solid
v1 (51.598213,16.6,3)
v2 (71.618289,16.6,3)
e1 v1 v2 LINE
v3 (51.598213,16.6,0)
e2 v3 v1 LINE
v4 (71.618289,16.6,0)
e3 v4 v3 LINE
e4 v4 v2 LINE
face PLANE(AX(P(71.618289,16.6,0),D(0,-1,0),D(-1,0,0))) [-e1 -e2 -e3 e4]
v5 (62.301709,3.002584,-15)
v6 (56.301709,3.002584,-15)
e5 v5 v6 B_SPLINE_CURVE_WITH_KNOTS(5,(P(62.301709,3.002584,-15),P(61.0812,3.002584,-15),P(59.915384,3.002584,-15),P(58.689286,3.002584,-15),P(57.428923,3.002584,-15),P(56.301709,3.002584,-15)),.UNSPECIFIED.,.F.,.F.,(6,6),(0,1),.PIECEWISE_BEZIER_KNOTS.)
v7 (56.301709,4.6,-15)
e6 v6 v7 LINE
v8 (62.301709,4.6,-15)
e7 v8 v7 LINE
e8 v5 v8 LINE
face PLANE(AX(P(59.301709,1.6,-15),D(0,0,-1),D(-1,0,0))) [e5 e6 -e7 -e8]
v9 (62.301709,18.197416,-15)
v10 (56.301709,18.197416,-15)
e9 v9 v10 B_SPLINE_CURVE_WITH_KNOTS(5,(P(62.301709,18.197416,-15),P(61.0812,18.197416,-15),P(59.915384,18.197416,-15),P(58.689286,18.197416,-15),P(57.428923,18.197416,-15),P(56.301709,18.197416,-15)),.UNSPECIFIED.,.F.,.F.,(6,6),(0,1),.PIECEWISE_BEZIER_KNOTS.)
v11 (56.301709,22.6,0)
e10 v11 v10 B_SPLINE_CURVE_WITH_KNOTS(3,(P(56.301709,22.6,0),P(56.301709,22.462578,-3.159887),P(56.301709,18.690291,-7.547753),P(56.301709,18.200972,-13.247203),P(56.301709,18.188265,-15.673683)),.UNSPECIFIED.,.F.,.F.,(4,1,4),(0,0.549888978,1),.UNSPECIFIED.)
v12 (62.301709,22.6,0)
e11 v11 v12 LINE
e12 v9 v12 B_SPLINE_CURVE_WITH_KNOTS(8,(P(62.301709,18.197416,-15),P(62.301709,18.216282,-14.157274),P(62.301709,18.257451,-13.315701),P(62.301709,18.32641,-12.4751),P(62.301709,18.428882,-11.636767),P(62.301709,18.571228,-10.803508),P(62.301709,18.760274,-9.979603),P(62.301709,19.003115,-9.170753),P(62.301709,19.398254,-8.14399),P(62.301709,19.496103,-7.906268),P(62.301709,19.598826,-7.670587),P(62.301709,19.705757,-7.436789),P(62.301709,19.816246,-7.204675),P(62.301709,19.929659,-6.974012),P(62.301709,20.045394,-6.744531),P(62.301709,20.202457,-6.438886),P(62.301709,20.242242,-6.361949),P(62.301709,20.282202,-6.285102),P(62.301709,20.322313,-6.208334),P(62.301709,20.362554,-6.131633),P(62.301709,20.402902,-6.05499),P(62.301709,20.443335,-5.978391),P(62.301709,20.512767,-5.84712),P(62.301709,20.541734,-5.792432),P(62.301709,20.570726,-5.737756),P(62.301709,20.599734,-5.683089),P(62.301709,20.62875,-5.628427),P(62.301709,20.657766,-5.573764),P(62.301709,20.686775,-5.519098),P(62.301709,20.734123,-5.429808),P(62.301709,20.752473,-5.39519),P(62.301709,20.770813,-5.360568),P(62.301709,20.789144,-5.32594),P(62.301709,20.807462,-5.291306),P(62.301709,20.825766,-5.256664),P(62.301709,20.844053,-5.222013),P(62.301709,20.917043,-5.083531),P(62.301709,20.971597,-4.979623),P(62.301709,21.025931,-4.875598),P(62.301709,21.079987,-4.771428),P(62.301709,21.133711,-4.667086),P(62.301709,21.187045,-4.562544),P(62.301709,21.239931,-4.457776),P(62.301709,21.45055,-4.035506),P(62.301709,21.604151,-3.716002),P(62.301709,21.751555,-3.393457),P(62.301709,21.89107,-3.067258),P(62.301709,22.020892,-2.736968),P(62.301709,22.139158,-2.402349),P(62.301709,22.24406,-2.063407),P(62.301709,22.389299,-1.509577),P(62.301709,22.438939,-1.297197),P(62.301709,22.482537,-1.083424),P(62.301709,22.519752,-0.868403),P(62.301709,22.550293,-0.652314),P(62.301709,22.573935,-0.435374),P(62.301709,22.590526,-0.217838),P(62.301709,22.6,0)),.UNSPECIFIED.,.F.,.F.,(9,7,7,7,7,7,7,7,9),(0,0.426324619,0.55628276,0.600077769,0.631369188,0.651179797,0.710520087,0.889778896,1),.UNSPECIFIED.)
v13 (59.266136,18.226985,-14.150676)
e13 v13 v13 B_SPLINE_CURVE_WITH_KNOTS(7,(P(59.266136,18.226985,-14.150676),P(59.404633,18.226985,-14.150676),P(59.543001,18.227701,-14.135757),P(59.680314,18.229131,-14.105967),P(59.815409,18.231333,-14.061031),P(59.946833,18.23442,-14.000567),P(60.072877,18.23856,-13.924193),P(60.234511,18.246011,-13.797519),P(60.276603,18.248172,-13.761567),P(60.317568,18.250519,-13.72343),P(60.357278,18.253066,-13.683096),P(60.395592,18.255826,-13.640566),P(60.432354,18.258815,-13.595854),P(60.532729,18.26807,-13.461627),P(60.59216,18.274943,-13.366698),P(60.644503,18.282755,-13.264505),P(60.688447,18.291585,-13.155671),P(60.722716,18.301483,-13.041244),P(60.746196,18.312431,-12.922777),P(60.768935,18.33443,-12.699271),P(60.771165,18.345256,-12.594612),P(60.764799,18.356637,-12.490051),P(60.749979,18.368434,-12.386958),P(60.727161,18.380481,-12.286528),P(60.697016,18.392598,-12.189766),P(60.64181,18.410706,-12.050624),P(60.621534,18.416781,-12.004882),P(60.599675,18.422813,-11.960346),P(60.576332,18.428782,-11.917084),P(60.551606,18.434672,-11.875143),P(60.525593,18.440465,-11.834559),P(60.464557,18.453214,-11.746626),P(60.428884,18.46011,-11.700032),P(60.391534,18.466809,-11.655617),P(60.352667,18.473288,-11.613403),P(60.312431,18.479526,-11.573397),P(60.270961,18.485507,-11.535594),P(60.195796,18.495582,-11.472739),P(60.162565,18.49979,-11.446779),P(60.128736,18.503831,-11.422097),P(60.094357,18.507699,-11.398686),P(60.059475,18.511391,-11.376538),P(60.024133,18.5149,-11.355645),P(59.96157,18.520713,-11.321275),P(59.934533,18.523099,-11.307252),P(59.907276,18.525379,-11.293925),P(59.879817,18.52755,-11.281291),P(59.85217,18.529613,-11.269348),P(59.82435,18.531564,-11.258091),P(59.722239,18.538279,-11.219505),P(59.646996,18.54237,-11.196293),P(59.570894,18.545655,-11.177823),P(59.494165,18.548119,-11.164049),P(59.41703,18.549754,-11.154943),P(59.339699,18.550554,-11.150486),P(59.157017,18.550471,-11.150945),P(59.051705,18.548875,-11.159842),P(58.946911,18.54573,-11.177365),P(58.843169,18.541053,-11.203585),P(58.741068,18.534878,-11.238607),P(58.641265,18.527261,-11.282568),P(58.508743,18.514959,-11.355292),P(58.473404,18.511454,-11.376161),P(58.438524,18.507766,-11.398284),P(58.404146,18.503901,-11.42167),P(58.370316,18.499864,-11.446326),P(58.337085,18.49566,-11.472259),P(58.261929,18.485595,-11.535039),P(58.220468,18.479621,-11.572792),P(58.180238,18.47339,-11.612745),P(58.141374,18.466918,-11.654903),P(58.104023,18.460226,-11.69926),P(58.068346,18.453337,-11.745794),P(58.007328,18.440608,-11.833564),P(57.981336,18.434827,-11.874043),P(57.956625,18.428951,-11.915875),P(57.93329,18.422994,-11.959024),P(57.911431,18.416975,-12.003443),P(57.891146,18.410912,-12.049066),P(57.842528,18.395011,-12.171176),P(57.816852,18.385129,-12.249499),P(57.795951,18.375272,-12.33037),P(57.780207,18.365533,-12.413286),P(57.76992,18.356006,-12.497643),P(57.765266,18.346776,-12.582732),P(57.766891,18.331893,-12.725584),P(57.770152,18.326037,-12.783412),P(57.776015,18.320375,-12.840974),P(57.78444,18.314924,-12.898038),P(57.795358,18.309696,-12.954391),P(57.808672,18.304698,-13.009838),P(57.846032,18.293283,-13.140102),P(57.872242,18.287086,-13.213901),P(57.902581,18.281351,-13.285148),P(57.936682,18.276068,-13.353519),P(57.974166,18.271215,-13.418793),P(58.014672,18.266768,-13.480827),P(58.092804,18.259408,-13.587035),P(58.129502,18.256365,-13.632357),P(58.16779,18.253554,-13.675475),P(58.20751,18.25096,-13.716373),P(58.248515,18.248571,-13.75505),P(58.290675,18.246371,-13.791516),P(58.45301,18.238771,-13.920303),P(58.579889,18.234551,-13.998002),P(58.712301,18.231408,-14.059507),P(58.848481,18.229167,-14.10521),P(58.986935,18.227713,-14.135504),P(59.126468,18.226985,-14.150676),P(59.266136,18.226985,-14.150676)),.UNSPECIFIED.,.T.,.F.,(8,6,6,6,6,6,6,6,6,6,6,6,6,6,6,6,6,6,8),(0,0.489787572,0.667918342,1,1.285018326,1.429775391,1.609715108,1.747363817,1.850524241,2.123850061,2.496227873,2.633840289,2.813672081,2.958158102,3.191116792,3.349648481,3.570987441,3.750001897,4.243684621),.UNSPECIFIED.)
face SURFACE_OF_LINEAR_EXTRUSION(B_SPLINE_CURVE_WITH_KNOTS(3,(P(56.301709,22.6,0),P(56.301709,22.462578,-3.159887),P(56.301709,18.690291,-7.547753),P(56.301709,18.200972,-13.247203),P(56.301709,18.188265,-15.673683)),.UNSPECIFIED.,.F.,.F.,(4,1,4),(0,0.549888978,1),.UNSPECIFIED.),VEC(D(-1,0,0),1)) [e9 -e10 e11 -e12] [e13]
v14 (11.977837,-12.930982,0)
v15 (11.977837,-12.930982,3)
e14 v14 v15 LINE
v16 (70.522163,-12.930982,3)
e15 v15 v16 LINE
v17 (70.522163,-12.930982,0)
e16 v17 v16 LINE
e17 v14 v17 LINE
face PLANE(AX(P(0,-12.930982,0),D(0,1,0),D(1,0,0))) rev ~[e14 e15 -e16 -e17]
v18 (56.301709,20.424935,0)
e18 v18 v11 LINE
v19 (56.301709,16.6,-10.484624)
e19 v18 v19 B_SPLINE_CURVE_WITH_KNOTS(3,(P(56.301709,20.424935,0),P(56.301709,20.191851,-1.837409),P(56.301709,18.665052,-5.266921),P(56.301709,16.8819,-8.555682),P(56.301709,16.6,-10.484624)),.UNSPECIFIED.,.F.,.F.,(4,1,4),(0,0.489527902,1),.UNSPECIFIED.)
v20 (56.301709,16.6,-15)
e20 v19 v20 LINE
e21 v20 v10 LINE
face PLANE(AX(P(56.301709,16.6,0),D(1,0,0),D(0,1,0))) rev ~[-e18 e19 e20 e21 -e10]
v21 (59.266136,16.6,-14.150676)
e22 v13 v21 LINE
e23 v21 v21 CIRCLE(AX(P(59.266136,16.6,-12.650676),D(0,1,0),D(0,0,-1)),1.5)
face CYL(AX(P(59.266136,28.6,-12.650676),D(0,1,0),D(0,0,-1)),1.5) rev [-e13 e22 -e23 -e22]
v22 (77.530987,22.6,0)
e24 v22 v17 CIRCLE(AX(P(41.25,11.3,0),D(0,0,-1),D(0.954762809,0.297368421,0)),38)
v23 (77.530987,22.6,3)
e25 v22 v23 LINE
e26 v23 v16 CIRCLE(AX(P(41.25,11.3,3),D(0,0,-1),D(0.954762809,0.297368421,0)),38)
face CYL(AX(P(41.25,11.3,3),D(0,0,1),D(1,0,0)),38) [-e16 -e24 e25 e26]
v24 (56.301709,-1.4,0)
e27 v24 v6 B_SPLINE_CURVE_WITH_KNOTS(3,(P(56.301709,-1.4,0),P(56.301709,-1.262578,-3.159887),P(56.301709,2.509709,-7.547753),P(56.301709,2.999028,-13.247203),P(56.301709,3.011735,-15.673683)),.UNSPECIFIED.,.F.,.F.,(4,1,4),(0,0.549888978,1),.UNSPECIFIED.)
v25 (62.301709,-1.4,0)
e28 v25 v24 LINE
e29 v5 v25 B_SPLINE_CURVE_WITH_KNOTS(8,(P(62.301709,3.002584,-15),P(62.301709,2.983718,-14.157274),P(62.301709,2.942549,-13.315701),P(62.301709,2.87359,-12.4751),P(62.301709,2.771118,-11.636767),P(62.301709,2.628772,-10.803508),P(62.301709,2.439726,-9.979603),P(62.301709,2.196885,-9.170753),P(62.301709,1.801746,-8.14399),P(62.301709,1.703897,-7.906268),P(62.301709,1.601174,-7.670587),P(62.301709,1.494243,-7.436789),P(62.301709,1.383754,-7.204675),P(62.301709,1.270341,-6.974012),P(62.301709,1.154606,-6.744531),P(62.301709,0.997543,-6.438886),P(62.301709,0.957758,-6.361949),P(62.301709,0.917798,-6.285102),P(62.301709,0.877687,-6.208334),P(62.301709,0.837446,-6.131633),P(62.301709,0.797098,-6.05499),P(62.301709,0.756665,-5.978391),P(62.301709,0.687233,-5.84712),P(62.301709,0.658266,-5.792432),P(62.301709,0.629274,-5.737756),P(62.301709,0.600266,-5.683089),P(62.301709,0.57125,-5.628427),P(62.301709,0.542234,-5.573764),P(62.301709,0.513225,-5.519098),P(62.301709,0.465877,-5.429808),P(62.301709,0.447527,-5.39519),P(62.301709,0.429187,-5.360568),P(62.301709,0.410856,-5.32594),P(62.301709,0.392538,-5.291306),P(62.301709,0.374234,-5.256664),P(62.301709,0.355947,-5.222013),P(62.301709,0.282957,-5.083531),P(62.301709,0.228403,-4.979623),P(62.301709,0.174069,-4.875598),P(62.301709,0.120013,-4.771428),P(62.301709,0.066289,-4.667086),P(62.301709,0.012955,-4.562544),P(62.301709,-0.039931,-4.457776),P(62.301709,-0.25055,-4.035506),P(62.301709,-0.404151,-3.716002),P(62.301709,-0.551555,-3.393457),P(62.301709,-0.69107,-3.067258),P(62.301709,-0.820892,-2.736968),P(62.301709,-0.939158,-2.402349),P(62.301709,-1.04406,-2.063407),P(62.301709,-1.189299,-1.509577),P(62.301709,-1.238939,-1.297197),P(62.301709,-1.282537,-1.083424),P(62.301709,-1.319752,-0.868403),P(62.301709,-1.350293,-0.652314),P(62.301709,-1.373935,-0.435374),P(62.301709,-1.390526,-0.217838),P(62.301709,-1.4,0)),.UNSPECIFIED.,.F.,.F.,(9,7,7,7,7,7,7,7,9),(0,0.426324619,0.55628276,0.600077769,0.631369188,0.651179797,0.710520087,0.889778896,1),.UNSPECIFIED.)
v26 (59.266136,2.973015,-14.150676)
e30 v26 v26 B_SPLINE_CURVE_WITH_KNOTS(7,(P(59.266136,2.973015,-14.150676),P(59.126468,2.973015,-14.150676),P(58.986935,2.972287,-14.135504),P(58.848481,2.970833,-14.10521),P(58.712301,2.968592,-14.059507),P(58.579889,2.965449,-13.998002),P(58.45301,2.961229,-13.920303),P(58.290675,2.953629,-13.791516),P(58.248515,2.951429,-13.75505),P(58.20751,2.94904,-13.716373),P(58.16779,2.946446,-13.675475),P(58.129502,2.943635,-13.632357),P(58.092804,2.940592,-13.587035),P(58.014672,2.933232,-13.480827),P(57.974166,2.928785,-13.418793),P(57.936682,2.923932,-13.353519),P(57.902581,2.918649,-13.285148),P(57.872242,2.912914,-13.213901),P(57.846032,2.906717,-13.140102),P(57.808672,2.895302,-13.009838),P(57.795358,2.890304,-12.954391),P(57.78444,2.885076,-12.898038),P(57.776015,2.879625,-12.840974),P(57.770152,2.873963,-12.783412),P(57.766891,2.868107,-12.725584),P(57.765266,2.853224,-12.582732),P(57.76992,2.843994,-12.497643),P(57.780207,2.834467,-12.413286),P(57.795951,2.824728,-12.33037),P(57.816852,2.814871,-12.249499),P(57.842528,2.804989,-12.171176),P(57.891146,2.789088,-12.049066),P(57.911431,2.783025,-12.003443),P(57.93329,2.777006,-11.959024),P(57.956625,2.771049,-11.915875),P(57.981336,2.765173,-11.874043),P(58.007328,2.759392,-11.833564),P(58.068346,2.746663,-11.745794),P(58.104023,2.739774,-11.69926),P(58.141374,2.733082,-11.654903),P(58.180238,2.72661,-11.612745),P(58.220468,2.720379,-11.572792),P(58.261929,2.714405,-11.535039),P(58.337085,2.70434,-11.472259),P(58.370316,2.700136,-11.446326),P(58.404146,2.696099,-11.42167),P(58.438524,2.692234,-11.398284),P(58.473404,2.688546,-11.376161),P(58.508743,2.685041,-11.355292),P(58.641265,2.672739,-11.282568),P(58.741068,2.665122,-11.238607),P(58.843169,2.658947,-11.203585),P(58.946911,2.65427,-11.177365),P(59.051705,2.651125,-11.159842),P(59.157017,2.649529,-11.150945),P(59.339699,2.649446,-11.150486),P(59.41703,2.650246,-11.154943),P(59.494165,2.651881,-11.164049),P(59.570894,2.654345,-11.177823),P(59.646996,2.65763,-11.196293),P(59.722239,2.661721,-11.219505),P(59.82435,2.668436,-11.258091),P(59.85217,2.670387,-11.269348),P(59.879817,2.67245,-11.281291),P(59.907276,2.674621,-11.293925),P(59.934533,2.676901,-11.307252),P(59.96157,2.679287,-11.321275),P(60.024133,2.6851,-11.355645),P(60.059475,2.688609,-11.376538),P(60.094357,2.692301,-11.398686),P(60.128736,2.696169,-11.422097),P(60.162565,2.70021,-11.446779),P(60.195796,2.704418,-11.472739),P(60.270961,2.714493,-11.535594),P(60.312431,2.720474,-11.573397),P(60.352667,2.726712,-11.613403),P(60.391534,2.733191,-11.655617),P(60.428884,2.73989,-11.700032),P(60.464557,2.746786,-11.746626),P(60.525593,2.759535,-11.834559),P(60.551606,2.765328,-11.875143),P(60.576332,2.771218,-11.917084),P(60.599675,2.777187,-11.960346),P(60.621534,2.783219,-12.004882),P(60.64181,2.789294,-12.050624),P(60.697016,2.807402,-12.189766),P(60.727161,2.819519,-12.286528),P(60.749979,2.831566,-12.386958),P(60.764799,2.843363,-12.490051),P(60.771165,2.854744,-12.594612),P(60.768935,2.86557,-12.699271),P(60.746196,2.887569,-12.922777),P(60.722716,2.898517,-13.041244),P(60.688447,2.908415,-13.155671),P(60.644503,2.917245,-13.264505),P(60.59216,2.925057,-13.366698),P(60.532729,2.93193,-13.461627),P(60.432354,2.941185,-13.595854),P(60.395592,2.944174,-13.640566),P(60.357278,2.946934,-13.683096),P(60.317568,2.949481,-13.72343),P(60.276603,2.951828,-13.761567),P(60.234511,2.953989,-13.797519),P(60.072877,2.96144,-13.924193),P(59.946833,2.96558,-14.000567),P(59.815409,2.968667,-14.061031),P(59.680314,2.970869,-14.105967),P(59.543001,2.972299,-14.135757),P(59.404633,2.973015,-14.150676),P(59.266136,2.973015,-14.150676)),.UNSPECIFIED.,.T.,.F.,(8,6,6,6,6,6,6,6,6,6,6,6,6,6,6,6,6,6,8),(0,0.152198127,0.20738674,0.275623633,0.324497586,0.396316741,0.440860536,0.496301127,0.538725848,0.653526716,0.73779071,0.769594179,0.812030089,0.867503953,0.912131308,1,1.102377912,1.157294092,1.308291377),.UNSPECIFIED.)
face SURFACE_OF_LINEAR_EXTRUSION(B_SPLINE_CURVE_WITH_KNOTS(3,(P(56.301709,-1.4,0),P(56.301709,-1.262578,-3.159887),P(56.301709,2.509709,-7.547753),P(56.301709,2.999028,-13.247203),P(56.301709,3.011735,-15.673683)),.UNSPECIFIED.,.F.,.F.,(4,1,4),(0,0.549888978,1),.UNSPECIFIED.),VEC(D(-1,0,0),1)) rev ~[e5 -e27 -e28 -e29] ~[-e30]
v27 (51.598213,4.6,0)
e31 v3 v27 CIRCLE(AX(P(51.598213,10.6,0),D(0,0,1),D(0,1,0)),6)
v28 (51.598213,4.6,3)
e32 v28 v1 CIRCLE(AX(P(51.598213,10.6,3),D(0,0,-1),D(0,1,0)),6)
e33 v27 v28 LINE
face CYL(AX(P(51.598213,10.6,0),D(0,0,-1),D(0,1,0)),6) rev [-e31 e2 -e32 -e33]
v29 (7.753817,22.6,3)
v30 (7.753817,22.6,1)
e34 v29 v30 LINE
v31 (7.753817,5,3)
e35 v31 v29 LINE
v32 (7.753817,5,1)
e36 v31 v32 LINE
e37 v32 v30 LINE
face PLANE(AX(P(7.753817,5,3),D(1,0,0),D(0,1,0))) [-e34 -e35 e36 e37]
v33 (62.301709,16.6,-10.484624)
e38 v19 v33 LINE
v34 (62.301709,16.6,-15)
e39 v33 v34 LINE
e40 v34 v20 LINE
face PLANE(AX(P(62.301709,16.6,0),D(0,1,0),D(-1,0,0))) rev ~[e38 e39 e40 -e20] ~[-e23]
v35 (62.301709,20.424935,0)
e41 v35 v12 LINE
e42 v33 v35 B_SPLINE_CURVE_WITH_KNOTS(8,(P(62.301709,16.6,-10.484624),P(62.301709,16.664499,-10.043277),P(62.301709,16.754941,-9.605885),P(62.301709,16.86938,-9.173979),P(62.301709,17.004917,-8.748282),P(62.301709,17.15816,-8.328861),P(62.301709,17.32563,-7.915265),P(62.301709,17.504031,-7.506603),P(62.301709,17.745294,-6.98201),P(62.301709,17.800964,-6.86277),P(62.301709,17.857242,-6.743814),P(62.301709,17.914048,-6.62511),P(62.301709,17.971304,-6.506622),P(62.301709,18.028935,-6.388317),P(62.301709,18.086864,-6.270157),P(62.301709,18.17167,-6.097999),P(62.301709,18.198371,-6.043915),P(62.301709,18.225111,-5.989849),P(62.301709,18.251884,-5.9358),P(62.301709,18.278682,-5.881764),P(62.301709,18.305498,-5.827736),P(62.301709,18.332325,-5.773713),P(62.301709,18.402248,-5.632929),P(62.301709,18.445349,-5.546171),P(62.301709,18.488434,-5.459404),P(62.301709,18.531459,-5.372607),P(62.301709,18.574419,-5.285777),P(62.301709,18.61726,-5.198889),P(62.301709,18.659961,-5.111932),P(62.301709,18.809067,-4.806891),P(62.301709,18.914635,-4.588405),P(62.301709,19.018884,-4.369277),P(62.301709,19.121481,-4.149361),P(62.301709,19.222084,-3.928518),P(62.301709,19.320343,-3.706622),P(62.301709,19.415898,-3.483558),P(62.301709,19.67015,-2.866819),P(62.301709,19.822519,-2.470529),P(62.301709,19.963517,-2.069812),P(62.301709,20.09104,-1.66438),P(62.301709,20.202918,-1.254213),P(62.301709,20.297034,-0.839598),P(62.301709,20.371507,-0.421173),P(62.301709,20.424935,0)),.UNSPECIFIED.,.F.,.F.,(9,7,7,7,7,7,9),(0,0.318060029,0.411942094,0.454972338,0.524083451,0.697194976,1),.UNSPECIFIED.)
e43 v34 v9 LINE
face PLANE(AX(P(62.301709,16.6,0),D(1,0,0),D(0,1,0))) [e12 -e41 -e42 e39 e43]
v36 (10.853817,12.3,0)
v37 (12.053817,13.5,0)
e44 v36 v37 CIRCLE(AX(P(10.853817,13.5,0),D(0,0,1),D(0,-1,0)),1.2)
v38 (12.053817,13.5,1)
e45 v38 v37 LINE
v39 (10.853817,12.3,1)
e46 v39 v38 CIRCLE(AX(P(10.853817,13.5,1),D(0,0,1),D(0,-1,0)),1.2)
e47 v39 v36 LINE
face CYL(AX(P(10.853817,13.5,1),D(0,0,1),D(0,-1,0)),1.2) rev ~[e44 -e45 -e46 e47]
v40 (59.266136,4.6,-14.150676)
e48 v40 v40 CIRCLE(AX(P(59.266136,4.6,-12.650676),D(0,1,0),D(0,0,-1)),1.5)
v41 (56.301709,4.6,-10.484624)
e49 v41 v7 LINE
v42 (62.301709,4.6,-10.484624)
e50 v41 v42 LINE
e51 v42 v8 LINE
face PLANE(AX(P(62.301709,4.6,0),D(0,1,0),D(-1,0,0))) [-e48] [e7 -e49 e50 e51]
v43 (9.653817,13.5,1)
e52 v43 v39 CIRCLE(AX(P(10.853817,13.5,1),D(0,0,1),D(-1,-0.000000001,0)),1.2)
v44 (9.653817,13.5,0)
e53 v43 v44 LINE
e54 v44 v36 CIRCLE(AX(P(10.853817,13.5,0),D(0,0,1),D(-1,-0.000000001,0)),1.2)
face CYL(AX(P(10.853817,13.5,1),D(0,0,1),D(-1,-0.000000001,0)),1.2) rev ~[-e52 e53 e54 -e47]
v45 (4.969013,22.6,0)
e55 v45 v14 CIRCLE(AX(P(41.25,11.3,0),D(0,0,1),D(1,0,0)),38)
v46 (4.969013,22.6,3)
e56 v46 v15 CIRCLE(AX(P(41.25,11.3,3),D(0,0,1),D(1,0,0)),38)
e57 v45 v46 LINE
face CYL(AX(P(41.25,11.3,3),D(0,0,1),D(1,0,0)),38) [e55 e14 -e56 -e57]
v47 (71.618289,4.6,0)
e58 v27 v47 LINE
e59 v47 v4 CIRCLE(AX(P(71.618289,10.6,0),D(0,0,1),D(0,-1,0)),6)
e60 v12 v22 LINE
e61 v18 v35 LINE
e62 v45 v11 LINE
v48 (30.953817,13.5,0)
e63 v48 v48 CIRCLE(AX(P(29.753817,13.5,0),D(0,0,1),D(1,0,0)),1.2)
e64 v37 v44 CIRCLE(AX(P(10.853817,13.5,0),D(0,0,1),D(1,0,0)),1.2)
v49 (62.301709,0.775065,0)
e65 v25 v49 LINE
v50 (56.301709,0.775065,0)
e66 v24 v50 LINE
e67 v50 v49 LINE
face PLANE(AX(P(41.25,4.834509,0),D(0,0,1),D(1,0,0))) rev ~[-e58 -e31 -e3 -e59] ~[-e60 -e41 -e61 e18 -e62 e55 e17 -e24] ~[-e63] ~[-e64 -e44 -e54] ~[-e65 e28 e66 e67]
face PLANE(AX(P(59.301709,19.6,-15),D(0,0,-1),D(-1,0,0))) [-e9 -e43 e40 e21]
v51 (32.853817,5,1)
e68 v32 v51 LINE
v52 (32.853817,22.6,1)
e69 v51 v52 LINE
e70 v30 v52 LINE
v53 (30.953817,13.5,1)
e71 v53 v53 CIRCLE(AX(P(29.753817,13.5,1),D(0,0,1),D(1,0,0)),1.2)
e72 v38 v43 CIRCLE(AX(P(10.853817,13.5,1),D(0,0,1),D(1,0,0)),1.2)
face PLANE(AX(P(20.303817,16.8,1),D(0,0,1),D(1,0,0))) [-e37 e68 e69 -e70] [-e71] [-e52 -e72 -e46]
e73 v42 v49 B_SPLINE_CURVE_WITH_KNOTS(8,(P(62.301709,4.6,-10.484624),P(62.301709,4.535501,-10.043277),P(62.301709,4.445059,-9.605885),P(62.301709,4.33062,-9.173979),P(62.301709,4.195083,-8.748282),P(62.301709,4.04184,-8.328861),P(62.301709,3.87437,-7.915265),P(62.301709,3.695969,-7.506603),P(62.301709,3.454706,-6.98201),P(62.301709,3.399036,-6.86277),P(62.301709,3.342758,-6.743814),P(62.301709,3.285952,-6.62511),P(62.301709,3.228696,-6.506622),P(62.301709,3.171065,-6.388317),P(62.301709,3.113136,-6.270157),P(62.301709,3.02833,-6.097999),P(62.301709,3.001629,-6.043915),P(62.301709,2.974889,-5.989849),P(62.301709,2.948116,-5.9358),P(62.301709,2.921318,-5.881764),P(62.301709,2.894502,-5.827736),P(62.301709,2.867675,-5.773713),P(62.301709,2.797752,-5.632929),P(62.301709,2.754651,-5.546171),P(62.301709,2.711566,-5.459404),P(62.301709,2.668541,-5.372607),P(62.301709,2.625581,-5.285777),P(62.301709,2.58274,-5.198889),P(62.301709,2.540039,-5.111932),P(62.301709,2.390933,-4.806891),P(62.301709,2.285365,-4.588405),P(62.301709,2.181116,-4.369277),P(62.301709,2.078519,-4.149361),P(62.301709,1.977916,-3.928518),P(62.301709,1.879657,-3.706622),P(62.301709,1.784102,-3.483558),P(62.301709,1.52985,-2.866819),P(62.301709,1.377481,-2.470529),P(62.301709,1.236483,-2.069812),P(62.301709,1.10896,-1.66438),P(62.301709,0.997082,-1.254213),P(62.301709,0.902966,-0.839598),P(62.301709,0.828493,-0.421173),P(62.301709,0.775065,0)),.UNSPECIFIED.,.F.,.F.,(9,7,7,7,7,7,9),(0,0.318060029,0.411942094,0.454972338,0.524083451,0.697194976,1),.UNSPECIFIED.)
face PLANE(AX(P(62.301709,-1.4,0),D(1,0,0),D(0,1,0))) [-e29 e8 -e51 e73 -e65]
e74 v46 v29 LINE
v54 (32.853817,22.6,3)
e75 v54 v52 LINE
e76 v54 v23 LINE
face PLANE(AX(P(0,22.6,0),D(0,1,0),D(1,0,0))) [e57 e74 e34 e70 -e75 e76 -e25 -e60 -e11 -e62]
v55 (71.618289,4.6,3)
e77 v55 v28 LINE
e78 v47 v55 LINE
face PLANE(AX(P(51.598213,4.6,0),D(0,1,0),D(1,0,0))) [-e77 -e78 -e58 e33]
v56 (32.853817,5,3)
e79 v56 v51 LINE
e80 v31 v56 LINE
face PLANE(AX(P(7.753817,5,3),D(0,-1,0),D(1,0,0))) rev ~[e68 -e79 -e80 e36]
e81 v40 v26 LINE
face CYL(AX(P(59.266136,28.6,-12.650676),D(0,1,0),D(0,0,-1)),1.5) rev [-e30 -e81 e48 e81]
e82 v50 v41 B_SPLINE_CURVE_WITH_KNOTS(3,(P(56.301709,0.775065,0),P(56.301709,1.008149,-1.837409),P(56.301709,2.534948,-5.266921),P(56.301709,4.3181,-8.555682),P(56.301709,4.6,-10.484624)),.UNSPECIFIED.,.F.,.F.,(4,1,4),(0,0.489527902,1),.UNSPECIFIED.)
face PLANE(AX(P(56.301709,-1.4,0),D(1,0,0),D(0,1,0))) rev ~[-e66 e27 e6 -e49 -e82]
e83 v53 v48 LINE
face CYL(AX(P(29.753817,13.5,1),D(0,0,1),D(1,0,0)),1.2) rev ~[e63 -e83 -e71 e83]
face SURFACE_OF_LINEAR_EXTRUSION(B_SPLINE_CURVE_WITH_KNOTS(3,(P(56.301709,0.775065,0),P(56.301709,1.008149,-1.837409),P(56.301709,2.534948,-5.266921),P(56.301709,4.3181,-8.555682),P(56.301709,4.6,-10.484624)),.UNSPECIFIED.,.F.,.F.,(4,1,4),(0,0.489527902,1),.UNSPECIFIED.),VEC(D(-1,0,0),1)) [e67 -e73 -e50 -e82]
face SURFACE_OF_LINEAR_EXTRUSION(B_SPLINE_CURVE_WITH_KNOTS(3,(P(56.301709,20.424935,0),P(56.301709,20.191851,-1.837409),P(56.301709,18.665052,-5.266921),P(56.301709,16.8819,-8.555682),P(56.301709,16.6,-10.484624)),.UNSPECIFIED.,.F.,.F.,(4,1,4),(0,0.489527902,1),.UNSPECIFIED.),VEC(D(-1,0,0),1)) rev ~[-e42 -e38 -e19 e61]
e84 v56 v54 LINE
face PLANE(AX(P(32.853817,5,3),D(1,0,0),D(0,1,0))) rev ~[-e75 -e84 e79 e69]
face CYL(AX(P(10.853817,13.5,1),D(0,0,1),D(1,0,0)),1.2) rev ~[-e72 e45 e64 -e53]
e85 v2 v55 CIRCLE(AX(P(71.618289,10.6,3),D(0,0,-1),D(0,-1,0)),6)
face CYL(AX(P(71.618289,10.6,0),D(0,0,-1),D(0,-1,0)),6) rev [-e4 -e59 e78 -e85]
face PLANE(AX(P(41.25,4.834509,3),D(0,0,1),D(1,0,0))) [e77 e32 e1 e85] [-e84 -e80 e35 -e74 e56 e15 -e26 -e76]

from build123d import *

# Parameters (mm, degrees)
SKETCH5_W               = 82.5
SKETCH5_H               = 35.530981805
BOSS_EXTRUDE1_DEPTH     = 3
SKETCH8_R               = 53.75957742
SKETCH8_R_2             = 38
CUT_EXTRUDE1_DEPTH      = 13
SKETCH7_W               = 25.1
SKETCH7_H               = 23.6
CUT_EXTRUDE2_DEPTH      = 2
SKETCH10_W              = 6
SKETCH10_H              = 6
BOSS_EXTRUDE2_DEPTH     = 15
CUT_EXTRUDE3_DEPTH      = 12
CUT_EXTRUDE4_DEPTH      = 12
CUT_EXTRUDE5_DEPTH      = 17
CUT_EXTRUDE5_DEPTH_BACK = 12
SKETCH15_R              = 1.5
SKETCH16_R              = 1.2
CUT_EXTRUDE6_DEPTH      = 10


with BuildPart() as part:
    # Sketch5 → Boss-Extrude1 (new body)
    with BuildSketch(Plane.XY):
        with Locations((41.25, 4.834509098)):
            Rectangle(SKETCH5_W, SKETCH5_H)
    extrude(amount=BOSS_EXTRUDE1_DEPTH)

    # Sketch8 → Cut-Extrude1 (cut)
    with BuildSketch(Plane.XY.offset(3)):
        with Locations((41.25, 11.3)):
            Circle(SKETCH8_R)
        with Locations((41.25, 11.3)):
            Circle(SKETCH8_R_2, mode=Mode.SUBTRACT)
    extrude(amount=-CUT_EXTRUDE1_DEPTH, mode=Mode.SUBTRACT)

    # Sketch7 → Cut-Extrude2 (cut)
    with BuildSketch(Plane.XY.offset(3)):
        with Locations((20.303816898, 16.8)):
            Rectangle(SKETCH7_W, SKETCH7_H)
    extrude(amount=-CUT_EXTRUDE2_DEPTH, mode=Mode.SUBTRACT)

    # Sketch10 → Boss-Extrude2 (add)
    with BuildSketch(Plane(origin=(0, 0, 0), x_dir=(-1, 0, 0), z_dir=(0, 0, -1))):
        with Locations((-59.301708923, 1.6)):
            Rectangle(SKETCH10_W, SKETCH10_H)
        with Locations((-59.301708923, 19.6)):
            Rectangle(SKETCH10_W, SKETCH10_H)
    extrude(amount=BOSS_EXTRUDE2_DEPTH)

    # Sketch11 → Cut-Extrude3 (cut)
    with BuildSketch(Plane.ZY.offset(-56.301708923)):
        with BuildLine():
            Line((-15.673682817, 18.188265047), (-15.673682817, 24.450923395))
            Line((-15.673682817, 24.450923395), (0, 24.450923395))
            Line((0, 24.450923395), (0, 22.6))
            add(Edge.make_bspline(
                [(0, 22.6), (-3.159886635, 22.462578072), (-7.547752793, 18.690290822), (-13.247203151, 18.200972407), (-15.673682817, 18.188265047)],
                knots=[0, 0, 0, 0, 0.549888978, 1, 1, 1, 1], degree=3))
        make_face()
        with BuildLine():
            Line((-10.484624341, 16.6), (-10.708289412, 12.015073246))
            Line((-10.708289412, 12.015073246), (0, 12.015073246))
            Line((0, 12.015073246), (0, 20.424934677))
            add(Edge.make_bspline(
                [(0, 20.424934677), (-1.83740901, 20.191851474), (-5.266921055, 18.665051954), (-8.555682053, 16.881899659), (-10.484624341, 16.6)],
                knots=[0, 0, 0, 0, 0.489527902, 1, 1, 1, 1], degree=3))
        make_face()
        with BuildLine():
            Line((0, 9.184926754), (0, 0.775065323))
            add(Edge.make_bspline(
                [(0, 0.775065323), (-1.83740901, 1.008148526), (-5.266921055, 2.534948046), (-8.555682053, 4.318100341), (-10.484624341, 4.6)],
                knots=[0, 0, 0, 0, 0.489527902, 1, 1, 1, 1], degree=3))
            Line((-10.484624341, 4.6), (-10.708289412, 9.184926754))
            Line((-10.708289412, 9.184926754), (0, 9.184926754))
        make_face()
        with BuildLine():
            Line((0, -3.250923395), (0, -1.4))
            add(Edge.make_bspline(
                [(0, -1.4), (-3.159886635, -1.262578072), (-7.547752793, 2.509709178), (-13.247203151, 2.999027593), (-15.673682817, 3.011734953)],
                knots=[0, 0, 0, 0, 0.549888978, 1, 1, 1, 1], degree=3))
            Line((-15.673682817, 3.011734953), (-15.673682817, -3.250923395))
            Line((-15.673682817, -3.250923395), (0, -3.250923395))
        make_face()
    extrude(amount=-CUT_EXTRUDE3_DEPTH, mode=Mode.SUBTRACT)

    # Sketch14 → Cut-Extrude4 (cut)
    with BuildSketch(Plane(origin=(0, 0, 0), x_dir=(-1, 0, 0), z_dir=(0, 0, -1))):
        with BuildLine():
            Line((-71.618289014, 16.6), (-51.598213122, 16.6))
            ThreePointArc((-51.598213122, 16.6), (-45.598213122, 10.6), (-51.598213122, 4.6))
            Line((-51.598213122, 4.6), (-71.618289014, 4.6))
            ThreePointArc((-71.618289014, 4.6), (-77.618289014, 10.6), (-71.618289014, 16.6))
        make_face()
    extrude(amount=-CUT_EXTRUDE4_DEPTH, mode=Mode.SUBTRACT)

    # Sketch15 → Cut-Extrude5 (cut, two sides: drawn at the far end of the back side and taken through both)
    with BuildSketch(Plane(origin=(0, 16.6, 0), x_dir=(-1, 0, 0), z_dir=(0, -1, 0)).offset(-CUT_EXTRUDE5_DEPTH_BACK)):
        with Locations(Location((-59.266135992, 12.650675834, 0), (0, 0, 90))):
            Circle(SKETCH15_R)
    extrude(amount=CUT_EXTRUDE5_DEPTH + CUT_EXTRUDE5_DEPTH_BACK, mode=Mode.SUBTRACT)

    # Sketch16 → Cut-Extrude6 (cut)
    with BuildSketch(Plane.XY.offset(1)):
        with BuildLine():
            ThreePointArc((12.053816898, 13.5), (10.853816898, 14.7), (9.653816898, 13.5))
            Line((9.653816898, 13.5), (10.853816898, 13.5))
            Line((10.853816898, 13.5), (10.853816898, 12.3))
            ThreePointArc((10.853816898, 12.3), (11.702345036, 12.651471863), (12.053816898, 13.5))
        make_face()
        with BuildLine():
            Line((10.853816898, 13.5), (9.653816898, 13.5))
            ThreePointArc((9.653816898, 13.5), (10.005288761, 12.651471863), (10.853816898, 12.3))
            Line((10.853816898, 12.3), (10.853816898, 13.5))
        make_face()
        with Locations((29.753816898, 13.5)):
            Circle(SKETCH16_R)
    extrude(amount=-CUT_EXTRUDE6_DEPTH, mode=Mode.SUBTRACT)


solid = part.part
